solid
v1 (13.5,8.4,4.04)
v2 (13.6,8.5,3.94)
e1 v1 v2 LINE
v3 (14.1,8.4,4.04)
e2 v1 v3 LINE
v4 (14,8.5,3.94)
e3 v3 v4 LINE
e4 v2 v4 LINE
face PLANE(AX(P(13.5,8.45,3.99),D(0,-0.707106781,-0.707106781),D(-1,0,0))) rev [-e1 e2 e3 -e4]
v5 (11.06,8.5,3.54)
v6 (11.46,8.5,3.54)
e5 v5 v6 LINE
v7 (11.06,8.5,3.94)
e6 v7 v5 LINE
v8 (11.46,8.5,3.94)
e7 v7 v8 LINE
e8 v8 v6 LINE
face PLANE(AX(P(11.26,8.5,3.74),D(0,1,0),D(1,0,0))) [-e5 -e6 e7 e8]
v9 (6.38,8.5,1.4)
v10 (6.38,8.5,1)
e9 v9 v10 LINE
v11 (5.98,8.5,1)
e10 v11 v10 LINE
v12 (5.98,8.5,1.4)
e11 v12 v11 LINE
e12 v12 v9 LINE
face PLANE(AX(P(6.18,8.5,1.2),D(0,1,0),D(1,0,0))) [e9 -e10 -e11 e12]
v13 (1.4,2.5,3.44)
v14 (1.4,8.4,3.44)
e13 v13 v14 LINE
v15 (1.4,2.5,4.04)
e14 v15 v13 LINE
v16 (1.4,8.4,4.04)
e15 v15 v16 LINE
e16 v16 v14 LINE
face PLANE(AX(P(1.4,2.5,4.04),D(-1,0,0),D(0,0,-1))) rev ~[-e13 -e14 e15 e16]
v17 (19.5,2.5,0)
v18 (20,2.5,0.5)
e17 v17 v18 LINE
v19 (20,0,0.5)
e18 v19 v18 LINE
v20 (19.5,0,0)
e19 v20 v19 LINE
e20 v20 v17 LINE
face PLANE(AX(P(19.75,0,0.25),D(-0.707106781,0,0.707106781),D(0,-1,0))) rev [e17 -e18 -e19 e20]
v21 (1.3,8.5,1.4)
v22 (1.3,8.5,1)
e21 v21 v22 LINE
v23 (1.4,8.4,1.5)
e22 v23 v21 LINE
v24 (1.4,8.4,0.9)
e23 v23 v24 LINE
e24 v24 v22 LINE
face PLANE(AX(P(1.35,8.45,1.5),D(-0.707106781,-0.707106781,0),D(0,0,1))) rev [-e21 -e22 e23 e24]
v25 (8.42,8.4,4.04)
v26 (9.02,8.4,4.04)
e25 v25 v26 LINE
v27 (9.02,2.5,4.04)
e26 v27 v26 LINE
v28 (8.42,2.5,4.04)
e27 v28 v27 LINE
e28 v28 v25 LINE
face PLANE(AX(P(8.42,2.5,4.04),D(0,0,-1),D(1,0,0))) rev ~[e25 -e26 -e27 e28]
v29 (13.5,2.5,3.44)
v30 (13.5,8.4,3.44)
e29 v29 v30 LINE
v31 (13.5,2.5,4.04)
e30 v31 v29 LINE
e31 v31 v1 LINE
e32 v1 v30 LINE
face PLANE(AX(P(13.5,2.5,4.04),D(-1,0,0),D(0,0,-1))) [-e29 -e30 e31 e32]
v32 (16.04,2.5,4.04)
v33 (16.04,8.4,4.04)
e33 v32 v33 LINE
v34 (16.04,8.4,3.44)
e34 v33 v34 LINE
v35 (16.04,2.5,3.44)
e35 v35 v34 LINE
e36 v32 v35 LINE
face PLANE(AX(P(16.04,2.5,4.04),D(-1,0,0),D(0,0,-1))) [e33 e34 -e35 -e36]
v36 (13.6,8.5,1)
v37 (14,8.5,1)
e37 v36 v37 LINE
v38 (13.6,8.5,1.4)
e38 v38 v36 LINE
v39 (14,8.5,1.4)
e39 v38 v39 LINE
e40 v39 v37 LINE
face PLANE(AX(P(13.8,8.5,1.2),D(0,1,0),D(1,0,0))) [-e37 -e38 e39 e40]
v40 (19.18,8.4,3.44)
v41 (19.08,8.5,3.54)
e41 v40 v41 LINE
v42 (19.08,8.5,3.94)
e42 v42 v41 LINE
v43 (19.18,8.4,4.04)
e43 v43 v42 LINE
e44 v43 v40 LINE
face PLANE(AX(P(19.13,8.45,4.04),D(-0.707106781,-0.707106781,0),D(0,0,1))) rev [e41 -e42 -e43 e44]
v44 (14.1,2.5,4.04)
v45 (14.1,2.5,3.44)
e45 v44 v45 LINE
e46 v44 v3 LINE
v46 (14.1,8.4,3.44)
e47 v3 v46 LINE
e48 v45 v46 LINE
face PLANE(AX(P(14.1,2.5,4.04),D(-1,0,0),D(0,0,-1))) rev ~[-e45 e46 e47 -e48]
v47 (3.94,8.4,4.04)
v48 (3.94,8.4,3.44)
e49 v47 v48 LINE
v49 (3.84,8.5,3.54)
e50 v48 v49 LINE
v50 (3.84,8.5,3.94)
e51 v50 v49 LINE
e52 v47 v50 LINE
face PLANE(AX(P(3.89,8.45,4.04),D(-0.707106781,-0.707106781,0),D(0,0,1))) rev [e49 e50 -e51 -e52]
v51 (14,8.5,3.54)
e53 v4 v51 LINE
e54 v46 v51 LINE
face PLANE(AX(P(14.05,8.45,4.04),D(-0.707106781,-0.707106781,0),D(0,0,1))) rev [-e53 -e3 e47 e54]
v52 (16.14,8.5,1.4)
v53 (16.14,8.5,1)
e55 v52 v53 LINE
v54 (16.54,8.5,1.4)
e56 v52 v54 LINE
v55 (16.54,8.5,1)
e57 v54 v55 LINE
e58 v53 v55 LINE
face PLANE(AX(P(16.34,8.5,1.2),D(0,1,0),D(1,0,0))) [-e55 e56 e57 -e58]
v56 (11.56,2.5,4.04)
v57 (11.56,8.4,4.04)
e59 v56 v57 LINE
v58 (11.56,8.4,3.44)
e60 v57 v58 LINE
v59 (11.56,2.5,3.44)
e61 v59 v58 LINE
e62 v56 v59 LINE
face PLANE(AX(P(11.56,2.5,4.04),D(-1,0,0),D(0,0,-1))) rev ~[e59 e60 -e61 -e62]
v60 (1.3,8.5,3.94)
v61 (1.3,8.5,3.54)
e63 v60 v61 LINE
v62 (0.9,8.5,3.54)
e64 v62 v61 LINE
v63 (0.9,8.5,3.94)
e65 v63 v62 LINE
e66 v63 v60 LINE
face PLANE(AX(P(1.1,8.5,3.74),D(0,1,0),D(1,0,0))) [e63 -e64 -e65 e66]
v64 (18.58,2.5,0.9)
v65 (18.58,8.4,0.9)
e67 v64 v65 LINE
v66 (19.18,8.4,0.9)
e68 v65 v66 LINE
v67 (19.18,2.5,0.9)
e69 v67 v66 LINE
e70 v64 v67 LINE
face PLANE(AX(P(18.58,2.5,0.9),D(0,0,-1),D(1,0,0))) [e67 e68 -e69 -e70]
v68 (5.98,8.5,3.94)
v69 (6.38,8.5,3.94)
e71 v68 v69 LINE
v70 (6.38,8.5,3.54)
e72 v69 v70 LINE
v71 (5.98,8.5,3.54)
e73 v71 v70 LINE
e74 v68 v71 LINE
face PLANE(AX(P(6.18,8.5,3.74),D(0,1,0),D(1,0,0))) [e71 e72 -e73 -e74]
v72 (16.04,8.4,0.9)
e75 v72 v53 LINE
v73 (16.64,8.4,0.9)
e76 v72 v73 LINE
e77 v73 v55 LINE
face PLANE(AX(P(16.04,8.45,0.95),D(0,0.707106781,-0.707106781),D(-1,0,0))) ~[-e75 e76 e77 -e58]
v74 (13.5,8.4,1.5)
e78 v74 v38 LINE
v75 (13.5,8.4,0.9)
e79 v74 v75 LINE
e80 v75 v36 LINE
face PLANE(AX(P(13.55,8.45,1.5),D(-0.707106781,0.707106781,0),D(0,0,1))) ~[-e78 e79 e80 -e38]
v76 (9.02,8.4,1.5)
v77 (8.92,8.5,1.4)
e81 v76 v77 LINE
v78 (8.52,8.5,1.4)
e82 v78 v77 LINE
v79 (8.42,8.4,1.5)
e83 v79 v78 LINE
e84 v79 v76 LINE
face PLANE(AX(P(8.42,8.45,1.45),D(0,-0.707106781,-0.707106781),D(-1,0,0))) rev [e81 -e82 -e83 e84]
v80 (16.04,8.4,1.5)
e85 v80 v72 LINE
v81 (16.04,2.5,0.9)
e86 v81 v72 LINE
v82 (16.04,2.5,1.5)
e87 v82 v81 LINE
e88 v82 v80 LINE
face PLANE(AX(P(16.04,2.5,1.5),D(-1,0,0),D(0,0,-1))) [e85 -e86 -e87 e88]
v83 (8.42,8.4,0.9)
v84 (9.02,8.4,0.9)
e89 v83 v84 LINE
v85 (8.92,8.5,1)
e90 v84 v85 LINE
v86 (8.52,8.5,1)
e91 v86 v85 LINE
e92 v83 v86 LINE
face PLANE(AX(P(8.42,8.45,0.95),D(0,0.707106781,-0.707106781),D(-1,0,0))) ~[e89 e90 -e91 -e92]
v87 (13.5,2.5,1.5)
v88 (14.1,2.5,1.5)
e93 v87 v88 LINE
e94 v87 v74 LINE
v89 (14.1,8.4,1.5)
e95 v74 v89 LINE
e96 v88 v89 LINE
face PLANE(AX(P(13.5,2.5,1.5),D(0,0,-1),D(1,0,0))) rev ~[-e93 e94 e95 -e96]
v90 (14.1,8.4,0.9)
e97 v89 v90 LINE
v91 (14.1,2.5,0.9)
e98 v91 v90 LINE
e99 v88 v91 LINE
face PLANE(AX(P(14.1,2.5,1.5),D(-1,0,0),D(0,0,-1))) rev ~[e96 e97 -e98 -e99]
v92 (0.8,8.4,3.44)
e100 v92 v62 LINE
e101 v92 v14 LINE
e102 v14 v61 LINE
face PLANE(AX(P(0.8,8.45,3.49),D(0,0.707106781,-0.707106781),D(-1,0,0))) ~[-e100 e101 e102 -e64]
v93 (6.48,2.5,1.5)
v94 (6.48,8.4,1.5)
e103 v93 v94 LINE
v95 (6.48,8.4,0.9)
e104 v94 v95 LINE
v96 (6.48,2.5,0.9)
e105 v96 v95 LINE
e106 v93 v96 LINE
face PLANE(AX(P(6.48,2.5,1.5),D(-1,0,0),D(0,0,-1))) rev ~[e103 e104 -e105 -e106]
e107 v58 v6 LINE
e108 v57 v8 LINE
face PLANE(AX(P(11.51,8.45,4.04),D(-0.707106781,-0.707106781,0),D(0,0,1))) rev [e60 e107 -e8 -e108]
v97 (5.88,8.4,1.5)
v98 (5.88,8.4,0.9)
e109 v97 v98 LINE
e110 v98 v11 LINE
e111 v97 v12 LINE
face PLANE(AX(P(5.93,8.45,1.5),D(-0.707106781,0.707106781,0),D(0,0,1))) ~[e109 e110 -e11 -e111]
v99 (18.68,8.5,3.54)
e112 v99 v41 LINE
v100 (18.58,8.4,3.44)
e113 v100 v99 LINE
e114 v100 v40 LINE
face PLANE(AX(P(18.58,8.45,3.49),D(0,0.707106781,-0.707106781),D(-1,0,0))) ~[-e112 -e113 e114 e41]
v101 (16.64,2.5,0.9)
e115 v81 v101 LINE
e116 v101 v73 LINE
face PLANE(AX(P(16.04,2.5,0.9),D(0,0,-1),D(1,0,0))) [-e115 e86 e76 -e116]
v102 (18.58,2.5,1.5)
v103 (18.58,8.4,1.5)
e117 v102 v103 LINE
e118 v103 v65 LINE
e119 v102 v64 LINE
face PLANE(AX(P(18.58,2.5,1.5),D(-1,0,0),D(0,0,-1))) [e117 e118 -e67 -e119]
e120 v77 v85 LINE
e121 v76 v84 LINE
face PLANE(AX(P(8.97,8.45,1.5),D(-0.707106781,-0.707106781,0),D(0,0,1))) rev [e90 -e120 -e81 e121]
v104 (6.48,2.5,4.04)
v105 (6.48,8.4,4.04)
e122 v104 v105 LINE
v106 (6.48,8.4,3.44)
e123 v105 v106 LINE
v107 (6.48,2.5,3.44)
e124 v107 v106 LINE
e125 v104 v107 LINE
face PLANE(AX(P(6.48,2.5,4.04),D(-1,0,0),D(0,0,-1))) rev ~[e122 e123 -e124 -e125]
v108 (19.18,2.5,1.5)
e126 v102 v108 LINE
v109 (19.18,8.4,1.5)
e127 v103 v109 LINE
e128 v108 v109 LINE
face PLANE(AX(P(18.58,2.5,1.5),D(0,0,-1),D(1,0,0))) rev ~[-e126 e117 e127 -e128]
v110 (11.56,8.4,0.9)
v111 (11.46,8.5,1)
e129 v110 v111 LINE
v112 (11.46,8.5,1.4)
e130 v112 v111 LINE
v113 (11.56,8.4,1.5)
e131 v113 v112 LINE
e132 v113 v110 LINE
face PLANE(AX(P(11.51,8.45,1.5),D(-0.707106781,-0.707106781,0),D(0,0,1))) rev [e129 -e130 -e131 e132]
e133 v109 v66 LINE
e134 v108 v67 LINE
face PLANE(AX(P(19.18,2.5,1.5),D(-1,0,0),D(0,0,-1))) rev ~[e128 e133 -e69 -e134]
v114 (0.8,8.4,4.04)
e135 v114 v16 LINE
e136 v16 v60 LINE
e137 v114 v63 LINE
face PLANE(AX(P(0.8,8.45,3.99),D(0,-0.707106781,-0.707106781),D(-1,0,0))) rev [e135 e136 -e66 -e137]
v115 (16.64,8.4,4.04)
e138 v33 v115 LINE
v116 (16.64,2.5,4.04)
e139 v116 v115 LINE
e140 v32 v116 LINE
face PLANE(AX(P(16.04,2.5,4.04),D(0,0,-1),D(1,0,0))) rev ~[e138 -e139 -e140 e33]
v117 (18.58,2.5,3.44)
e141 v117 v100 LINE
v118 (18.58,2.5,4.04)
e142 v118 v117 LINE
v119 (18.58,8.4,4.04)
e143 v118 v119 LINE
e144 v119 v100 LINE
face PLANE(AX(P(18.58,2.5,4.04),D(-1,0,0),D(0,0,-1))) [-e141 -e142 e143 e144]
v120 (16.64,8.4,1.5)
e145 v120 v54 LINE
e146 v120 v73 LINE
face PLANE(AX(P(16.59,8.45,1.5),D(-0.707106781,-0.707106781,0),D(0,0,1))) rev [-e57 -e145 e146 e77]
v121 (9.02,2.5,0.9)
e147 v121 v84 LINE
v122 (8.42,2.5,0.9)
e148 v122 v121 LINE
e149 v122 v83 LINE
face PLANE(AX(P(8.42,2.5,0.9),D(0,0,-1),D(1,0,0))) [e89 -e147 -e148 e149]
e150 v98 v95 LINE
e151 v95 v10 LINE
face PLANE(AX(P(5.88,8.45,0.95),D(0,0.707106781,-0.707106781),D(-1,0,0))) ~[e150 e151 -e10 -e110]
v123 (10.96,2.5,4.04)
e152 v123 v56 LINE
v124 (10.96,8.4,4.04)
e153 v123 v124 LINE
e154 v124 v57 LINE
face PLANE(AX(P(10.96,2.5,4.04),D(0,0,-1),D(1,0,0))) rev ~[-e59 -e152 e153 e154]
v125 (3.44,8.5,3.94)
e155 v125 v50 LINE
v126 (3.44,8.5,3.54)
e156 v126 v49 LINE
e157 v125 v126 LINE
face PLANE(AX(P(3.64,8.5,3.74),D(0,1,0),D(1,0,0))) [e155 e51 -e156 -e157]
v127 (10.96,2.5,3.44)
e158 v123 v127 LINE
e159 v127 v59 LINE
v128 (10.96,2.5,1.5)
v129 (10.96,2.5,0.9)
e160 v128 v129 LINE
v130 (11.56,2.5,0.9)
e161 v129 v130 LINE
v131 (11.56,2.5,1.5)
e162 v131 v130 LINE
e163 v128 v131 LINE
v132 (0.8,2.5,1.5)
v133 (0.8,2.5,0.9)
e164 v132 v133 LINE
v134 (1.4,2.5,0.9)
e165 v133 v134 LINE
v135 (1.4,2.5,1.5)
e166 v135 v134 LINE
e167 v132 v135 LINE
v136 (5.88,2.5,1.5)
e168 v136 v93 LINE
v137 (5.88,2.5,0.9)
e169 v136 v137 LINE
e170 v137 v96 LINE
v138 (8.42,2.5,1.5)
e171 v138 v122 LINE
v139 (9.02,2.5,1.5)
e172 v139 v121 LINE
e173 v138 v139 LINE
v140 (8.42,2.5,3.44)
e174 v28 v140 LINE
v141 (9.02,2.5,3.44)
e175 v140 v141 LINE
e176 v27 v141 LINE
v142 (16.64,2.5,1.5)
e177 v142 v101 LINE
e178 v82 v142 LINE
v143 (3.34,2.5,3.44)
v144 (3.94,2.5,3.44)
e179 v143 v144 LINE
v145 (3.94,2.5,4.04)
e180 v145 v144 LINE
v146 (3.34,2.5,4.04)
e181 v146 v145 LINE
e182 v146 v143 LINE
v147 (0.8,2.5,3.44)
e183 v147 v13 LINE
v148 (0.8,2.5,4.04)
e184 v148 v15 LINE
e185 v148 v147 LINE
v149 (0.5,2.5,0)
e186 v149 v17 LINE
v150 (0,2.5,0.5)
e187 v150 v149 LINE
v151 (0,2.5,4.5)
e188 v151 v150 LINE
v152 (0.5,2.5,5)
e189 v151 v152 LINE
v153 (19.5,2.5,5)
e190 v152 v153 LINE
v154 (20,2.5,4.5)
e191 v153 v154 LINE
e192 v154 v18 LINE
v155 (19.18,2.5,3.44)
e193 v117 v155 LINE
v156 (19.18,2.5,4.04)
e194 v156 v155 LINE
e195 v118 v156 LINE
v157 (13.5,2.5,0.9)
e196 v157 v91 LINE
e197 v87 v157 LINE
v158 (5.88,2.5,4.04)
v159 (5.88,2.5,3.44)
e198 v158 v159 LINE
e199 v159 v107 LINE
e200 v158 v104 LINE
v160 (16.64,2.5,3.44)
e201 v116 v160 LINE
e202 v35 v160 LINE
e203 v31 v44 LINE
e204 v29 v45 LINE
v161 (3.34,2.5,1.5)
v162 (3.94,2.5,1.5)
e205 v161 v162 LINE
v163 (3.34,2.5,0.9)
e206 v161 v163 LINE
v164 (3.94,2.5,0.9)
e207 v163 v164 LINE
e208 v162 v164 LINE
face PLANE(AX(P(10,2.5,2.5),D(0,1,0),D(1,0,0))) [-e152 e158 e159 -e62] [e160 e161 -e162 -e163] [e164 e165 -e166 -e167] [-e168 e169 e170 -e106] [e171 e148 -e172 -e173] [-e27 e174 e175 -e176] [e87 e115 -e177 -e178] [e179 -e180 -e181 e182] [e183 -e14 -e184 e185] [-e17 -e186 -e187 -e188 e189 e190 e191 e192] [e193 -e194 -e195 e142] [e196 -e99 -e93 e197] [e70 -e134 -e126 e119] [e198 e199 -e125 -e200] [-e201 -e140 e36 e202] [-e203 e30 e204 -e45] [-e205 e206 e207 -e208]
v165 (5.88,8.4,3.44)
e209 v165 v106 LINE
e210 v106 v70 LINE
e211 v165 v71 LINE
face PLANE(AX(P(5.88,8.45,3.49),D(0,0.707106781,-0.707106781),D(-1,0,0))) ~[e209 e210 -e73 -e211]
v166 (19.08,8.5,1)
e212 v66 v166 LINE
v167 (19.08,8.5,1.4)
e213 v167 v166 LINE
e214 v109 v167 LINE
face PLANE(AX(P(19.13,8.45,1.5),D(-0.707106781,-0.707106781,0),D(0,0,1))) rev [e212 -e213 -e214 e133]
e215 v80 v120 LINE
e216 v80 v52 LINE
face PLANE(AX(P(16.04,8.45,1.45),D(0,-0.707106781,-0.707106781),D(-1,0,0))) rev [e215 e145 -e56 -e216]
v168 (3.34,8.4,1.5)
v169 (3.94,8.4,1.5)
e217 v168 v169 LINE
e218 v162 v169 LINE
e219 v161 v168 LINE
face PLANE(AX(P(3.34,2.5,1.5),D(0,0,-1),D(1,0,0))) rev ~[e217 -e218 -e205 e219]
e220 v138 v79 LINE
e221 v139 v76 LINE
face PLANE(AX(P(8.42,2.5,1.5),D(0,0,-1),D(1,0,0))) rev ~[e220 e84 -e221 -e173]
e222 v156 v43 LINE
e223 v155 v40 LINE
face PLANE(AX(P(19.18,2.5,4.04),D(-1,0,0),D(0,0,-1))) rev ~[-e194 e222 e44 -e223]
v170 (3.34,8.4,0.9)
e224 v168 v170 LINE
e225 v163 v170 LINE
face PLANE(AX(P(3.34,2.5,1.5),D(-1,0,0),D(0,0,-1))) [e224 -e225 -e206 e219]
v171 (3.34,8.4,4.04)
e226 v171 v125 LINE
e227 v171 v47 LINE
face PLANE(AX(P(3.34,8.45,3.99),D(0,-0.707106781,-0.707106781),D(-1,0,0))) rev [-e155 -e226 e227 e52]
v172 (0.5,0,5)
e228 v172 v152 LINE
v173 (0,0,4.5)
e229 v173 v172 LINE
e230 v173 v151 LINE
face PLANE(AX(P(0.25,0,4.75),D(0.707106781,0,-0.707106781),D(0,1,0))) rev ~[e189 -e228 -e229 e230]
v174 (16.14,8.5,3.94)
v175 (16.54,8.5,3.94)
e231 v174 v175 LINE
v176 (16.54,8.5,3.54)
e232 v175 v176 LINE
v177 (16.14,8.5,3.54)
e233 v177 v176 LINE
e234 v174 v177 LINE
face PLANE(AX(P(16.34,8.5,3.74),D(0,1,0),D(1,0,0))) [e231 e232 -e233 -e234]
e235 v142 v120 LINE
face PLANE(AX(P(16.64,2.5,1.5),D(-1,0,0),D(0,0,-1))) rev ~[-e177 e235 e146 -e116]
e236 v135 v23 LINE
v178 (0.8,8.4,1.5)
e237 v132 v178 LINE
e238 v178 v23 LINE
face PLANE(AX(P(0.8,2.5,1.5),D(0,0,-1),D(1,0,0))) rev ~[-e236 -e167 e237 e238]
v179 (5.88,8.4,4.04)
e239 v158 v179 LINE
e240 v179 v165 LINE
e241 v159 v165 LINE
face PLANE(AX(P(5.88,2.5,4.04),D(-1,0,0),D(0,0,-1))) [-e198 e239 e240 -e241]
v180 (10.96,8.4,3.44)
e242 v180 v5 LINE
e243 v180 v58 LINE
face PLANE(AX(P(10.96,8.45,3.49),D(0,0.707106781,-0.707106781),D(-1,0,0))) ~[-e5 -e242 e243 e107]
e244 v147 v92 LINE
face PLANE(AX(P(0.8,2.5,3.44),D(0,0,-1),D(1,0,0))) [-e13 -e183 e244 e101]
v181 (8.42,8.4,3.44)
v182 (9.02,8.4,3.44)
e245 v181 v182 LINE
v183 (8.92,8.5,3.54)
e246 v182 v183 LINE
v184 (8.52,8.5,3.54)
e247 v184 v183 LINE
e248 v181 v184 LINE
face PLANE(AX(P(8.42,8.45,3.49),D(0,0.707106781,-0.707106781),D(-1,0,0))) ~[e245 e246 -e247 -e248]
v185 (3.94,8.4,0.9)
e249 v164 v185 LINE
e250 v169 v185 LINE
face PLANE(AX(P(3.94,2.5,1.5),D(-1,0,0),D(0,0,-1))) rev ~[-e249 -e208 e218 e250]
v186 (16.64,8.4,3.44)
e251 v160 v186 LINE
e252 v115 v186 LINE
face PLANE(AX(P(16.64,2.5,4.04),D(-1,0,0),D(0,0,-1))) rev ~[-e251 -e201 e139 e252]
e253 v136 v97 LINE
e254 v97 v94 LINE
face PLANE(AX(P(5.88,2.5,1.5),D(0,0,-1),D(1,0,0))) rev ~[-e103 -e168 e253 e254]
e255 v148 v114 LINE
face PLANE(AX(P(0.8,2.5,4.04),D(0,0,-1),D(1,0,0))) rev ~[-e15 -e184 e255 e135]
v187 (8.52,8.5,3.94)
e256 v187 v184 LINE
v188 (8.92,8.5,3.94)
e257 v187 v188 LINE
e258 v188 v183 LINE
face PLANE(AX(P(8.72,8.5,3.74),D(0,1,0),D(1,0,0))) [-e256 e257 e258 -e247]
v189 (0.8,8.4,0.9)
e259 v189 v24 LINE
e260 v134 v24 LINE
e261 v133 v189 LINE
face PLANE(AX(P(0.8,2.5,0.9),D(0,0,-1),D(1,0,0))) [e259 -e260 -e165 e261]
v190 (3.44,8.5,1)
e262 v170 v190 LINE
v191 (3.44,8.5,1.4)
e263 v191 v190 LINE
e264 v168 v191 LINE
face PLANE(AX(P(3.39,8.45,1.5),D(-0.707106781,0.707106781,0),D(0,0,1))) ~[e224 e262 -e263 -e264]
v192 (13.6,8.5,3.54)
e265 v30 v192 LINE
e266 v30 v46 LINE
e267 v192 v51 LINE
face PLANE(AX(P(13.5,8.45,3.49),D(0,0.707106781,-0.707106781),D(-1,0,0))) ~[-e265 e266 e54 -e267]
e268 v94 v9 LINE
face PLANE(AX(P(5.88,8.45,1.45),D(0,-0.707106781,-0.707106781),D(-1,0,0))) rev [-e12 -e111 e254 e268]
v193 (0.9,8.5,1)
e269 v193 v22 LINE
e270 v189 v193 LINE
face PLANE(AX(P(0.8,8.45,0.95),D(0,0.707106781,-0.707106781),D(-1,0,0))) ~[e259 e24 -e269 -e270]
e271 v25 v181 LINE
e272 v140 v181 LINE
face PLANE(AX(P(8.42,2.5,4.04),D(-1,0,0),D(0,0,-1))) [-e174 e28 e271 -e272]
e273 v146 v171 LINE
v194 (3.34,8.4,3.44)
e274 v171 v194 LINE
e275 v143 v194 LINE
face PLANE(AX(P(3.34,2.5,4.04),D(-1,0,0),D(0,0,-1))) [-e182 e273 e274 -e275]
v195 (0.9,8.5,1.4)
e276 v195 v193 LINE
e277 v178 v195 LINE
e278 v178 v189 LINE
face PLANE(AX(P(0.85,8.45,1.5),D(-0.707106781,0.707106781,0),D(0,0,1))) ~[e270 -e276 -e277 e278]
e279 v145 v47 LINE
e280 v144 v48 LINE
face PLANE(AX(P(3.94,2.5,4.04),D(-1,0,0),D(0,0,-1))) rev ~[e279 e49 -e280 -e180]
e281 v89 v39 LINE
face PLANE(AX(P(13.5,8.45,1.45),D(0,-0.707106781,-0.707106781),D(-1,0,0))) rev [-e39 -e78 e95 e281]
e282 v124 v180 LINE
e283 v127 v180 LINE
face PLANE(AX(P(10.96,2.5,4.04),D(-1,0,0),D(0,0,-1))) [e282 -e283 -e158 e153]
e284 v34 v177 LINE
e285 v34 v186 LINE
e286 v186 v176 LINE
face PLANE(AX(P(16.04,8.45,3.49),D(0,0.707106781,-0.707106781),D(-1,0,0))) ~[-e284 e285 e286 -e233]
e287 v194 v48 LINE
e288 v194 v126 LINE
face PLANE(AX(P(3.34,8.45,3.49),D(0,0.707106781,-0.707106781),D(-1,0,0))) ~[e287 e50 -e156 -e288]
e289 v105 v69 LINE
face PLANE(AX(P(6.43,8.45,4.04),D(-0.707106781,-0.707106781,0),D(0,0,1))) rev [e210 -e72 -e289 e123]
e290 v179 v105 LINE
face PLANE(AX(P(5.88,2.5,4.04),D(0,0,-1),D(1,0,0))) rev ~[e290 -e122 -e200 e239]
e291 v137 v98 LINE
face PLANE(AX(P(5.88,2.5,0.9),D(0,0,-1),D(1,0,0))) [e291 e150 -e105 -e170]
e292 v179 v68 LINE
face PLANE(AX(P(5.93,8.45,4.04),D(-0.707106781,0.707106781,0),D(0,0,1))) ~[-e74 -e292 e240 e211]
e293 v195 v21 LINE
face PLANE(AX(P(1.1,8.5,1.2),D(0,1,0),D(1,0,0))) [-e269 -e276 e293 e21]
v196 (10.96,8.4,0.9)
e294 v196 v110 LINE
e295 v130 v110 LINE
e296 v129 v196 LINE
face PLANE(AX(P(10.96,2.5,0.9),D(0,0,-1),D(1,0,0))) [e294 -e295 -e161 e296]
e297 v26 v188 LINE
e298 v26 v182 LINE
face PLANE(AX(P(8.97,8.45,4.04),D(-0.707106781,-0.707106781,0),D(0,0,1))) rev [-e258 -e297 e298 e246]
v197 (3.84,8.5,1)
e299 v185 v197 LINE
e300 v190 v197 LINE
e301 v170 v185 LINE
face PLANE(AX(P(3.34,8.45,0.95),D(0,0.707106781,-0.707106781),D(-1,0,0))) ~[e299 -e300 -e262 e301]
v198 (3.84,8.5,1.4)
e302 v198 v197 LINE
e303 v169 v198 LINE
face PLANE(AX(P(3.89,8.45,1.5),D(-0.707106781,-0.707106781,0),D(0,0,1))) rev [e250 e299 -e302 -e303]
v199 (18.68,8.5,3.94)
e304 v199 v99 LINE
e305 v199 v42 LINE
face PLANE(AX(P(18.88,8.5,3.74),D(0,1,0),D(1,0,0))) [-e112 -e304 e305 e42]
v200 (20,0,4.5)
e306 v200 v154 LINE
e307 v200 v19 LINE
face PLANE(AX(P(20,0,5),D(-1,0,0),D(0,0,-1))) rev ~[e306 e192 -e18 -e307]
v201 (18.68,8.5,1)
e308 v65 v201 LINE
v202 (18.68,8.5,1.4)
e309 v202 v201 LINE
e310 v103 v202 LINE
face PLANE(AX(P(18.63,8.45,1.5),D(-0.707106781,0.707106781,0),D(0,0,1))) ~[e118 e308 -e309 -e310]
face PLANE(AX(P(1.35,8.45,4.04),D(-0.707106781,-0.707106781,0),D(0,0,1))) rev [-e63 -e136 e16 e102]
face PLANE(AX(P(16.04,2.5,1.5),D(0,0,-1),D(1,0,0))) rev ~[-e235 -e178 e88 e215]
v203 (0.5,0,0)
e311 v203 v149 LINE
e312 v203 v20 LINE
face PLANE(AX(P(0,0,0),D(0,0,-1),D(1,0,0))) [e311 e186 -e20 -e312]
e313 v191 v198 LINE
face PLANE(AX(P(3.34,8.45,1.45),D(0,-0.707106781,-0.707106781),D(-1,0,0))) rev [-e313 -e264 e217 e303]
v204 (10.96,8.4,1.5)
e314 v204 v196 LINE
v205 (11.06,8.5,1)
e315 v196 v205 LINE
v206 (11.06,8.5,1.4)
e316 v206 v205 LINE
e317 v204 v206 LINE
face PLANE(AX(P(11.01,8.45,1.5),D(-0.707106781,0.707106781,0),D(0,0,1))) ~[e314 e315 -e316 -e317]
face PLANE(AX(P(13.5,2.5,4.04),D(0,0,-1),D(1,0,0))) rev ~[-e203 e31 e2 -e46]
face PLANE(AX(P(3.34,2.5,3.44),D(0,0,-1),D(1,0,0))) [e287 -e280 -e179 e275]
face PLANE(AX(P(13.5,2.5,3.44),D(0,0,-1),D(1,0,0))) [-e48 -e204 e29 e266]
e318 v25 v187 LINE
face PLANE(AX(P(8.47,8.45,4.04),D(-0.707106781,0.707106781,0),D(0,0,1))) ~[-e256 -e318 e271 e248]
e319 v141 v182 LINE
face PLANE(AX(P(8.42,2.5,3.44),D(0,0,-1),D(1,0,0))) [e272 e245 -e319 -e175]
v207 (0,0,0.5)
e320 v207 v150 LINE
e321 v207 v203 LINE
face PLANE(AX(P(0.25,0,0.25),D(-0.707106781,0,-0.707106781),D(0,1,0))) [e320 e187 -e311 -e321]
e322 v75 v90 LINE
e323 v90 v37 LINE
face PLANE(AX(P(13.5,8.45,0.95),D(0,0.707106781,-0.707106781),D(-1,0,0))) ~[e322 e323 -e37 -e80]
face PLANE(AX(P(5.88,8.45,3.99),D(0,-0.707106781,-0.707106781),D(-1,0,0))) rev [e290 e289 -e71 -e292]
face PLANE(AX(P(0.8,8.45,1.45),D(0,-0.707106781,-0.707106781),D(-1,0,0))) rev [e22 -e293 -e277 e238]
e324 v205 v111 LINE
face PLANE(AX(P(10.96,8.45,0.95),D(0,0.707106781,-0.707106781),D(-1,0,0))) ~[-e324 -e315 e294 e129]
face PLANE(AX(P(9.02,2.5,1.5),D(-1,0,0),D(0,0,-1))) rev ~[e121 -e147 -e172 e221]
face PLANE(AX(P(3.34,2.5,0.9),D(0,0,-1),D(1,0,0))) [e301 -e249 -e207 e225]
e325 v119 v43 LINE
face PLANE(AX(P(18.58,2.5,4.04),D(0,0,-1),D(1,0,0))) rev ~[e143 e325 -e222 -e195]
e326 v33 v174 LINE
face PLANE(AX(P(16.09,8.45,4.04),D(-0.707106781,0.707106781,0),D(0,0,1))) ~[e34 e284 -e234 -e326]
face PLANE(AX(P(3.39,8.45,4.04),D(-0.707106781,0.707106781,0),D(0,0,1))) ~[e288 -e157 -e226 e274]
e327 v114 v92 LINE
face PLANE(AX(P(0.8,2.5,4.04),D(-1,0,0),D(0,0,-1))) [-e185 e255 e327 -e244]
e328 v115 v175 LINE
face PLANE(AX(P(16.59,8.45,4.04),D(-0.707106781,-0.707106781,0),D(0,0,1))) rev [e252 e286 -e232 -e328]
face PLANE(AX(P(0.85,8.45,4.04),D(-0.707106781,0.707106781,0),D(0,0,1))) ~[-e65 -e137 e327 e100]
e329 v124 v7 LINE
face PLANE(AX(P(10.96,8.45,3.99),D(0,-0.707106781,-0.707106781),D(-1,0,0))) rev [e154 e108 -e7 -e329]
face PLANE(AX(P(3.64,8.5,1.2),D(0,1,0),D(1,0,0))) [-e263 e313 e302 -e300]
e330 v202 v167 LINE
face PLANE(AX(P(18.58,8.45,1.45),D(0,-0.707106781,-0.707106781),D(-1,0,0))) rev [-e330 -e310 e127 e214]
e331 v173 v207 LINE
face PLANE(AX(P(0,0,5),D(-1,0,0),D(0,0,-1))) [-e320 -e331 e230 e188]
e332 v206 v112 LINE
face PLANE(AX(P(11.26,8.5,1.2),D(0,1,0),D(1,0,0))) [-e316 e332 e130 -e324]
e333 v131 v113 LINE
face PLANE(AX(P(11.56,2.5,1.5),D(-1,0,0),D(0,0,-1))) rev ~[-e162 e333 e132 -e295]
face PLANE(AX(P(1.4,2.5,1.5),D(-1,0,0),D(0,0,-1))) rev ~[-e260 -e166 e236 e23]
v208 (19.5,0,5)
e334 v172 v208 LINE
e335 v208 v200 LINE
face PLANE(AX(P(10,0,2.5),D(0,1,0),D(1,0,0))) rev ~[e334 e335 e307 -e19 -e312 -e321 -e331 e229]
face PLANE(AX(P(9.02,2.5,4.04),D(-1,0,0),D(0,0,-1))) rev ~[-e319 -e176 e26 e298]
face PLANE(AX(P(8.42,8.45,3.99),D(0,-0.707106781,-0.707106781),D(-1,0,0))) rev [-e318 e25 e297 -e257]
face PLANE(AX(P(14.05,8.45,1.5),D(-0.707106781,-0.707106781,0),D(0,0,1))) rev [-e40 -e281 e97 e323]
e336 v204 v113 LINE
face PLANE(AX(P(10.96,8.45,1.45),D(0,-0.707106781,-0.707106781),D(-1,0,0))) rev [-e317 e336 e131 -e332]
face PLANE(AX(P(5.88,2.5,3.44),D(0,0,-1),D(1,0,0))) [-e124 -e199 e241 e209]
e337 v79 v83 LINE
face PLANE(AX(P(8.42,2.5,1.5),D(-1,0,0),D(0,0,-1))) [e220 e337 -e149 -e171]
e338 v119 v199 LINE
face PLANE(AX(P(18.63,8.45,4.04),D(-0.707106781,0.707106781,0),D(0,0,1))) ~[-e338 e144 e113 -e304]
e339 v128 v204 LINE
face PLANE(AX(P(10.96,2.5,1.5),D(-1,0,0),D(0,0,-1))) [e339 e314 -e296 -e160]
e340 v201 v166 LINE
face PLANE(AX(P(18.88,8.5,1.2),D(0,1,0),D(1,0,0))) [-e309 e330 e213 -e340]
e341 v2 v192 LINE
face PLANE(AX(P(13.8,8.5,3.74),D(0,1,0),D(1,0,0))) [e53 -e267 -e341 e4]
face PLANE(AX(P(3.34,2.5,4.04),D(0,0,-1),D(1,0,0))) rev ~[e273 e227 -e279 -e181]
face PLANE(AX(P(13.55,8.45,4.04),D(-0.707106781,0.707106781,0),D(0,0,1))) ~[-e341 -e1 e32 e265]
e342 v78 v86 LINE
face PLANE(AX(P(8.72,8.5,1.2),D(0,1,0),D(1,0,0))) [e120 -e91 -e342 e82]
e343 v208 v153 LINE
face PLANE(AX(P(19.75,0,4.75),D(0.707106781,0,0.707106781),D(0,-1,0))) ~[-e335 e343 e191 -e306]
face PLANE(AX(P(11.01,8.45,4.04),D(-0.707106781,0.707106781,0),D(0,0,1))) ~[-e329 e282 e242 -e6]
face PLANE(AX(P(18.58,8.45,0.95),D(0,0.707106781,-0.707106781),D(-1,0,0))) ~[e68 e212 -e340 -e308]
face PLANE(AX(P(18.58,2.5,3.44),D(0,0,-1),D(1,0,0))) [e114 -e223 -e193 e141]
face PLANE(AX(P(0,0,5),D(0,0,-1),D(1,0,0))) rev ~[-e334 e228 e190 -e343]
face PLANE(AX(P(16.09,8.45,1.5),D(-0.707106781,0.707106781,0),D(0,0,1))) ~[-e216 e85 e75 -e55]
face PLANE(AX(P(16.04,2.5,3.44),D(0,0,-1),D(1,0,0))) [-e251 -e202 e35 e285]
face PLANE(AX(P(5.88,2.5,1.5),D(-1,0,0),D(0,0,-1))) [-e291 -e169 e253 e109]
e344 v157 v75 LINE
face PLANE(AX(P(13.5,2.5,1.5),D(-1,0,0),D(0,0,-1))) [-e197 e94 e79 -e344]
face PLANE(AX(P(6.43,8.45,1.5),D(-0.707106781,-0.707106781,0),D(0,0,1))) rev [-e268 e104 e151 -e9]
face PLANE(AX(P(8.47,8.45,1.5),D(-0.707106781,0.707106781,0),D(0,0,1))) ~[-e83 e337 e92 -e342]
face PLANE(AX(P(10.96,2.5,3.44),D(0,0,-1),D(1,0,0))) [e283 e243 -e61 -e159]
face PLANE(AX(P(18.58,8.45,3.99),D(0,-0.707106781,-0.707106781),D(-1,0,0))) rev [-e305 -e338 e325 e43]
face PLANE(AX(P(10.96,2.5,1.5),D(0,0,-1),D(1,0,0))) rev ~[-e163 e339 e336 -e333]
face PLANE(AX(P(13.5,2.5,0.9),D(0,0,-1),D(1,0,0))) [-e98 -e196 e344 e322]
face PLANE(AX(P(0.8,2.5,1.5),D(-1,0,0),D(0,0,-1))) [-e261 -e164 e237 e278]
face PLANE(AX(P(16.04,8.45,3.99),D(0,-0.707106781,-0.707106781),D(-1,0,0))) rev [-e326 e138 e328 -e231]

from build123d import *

# Parameters (mm, degrees)
ESQUISSE1_W        = 20
ESQUISSE1_H        = 5
BOSS_EXTRU_1_DEPTH = 2.5
ESQUISSE2_W        = 0.6
ESQUISSE2_H        = 0.6
BOSS_EXTRU_2_DEPTH = 6
CHANFREIN1_SIZE    = 0.1
CHANFREIN2_SIZE    = 0.5


with BuildPart() as part:
    # Esquisse1 → Boss.-Extru.1 (new body)
    with BuildSketch(Plane(origin=(0, 0, 0), x_dir=(1, 0, 0), z_dir=(0, 1, 0))):
        with Locations((10, -2.5)):
            Rectangle(ESQUISSE1_W, ESQUISSE1_H)
    extrude(amount=BOSS_EXTRU_1_DEPTH)

    # Esquisse2 → Boss.-Extru.2 (add)
    with BuildSketch(Plane(origin=(0, 2.5, 0), x_dir=(1, 0, 0), z_dir=(0, 1, 0))):
        with Locations((1.1, -1.2)):
            Rectangle(ESQUISSE2_W, ESQUISSE2_H)
        with Locations((1.1, -3.74)):
            Rectangle(ESQUISSE2_W, ESQUISSE2_H)
        with Locations((3.64, -1.2)):
            Rectangle(ESQUISSE2_W, ESQUISSE2_H)
        with Locations((3.64, -3.74)):
            Rectangle(ESQUISSE2_W, ESQUISSE2_H)
        with Locations((6.18, -1.2)):
            Rectangle(ESQUISSE2_W, ESQUISSE2_H)
        with Locations((6.18, -3.74)):
            Rectangle(ESQUISSE2_W, ESQUISSE2_H)
        with Locations((8.72, -1.2)):
            Rectangle(ESQUISSE2_W, ESQUISSE2_H)
        with Locations((8.72, -3.74)):
            Rectangle(ESQUISSE2_W, ESQUISSE2_H)
        with Locations((11.26, -1.2)):
            Rectangle(ESQUISSE2_W, ESQUISSE2_H)
        with Locations((11.26, -3.74)):
            Rectangle(ESQUISSE2_W, ESQUISSE2_H)
        with Locations((13.8, -1.2)):
            Rectangle(ESQUISSE2_W, ESQUISSE2_H)
        with Locations((13.8, -3.74)):
            Rectangle(ESQUISSE2_W, ESQUISSE2_H)
        with Locations((16.34, -1.2)):
            Rectangle(ESQUISSE2_W, ESQUISSE2_H)
        with Locations((16.34, -3.74)):
            Rectangle(ESQUISSE2_W, ESQUISSE2_H)
        with Locations((18.88, -1.2)):
            Rectangle(ESQUISSE2_W, ESQUISSE2_H)
        with Locations((18.88, -3.74)):
            Rectangle(ESQUISSE2_W, ESQUISSE2_H)
    extrude(amount=BOSS_EXTRU_2_DEPTH)

    # Chanfrein1
    chanfrein1_edges = [part.edges().sort_by_distance(p)[0] for p in [
        (10.96, 8.5, 1.2),
        (11.26, 8.5, 1.5),
        (11.56, 8.5, 1.2),
        (11.26, 8.5, 0.9),
        (10.96, 8.5, 3.74),
        (11.26, 8.5, 4.04),
        (11.56, 8.5, 3.74),
        (11.26, 8.5, 3.44),
        (13.5, 8.5, 1.2),
        (13.8, 8.5, 1.5),
        (14.1, 8.5, 1.2),
        (13.8, 8.5, 0.9),
        (13.5, 8.5, 3.74),
        (13.8, 8.5, 4.04),
        (14.1, 8.5, 3.74),
        (13.8, 8.5, 3.44),
        (16.04, 8.5, 1.2),
        (16.34, 8.5, 1.5),
        (16.64, 8.5, 1.2),
        (16.34, 8.5, 0.9),
        (16.04, 8.5, 3.74),
        (16.34, 8.5, 4.04),
        (16.64, 8.5, 3.74),
        (16.34, 8.5, 3.44),
        (18.58, 8.5, 1.2),
        (18.88, 8.5, 1.5),
        (19.18, 8.5, 1.2),
        (0.8, 8.5, 1.2),
        (18.88, 8.5, 0.9),
        (1.1, 8.5, 1.5),
        (1.4, 8.5, 1.2),
        (1.1, 8.5, 0.9),
        (18.58, 8.5, 3.74),
        (18.88, 8.5, 4.04),
        (19.18, 8.5, 3.74),
        (18.88, 8.5, 3.44),
        (0.8, 8.5, 3.74),
        (1.1, 8.5, 4.04),
        (1.4, 8.5, 3.74),
        (1.1, 8.5, 3.44),
        (3.34, 8.5, 1.2),
        (3.64, 8.5, 1.5),
        (3.94, 8.5, 1.2),
        (3.64, 8.5, 0.9),
        (3.34, 8.5, 3.74),
        (3.64, 8.5, 4.04),
        (3.94, 8.5, 3.74),
        (3.64, 8.5, 3.44),
        (5.88, 8.5, 1.2),
        (6.18, 8.5, 1.5),
        (6.48, 8.5, 1.2),
        (6.18, 8.5, 0.9),
        (5.88, 8.5, 3.74),
        (6.18, 8.5, 4.04),
        (6.48, 8.5, 3.74),
        (6.18, 8.5, 3.44),
        (8.42, 8.5, 1.2),
        (8.72, 8.5, 1.5),
        (9.02, 8.5, 1.2),
        (8.72, 8.5, 0.9),
        (8.42, 8.5, 3.74),
        (8.72, 8.5, 4.04),
        (9.02, 8.5, 3.74),
        (8.72, 8.5, 3.44),
    ]]
    chamfer(chanfrein1_edges, length=CHANFREIN1_SIZE)

    # Chanfrein2
    chanfrein2_edges = [part.edges().sort_by_distance(p)[0] for p in [
        (0, 1.25, 0),
        (20, 1.25, 0),
        (20, 1.25, 5),
        (0, 1.25, 5),
    ]]
    chamfer(chanfrein2_edges, length=CHANFREIN2_SIZE)


solid = part.part
